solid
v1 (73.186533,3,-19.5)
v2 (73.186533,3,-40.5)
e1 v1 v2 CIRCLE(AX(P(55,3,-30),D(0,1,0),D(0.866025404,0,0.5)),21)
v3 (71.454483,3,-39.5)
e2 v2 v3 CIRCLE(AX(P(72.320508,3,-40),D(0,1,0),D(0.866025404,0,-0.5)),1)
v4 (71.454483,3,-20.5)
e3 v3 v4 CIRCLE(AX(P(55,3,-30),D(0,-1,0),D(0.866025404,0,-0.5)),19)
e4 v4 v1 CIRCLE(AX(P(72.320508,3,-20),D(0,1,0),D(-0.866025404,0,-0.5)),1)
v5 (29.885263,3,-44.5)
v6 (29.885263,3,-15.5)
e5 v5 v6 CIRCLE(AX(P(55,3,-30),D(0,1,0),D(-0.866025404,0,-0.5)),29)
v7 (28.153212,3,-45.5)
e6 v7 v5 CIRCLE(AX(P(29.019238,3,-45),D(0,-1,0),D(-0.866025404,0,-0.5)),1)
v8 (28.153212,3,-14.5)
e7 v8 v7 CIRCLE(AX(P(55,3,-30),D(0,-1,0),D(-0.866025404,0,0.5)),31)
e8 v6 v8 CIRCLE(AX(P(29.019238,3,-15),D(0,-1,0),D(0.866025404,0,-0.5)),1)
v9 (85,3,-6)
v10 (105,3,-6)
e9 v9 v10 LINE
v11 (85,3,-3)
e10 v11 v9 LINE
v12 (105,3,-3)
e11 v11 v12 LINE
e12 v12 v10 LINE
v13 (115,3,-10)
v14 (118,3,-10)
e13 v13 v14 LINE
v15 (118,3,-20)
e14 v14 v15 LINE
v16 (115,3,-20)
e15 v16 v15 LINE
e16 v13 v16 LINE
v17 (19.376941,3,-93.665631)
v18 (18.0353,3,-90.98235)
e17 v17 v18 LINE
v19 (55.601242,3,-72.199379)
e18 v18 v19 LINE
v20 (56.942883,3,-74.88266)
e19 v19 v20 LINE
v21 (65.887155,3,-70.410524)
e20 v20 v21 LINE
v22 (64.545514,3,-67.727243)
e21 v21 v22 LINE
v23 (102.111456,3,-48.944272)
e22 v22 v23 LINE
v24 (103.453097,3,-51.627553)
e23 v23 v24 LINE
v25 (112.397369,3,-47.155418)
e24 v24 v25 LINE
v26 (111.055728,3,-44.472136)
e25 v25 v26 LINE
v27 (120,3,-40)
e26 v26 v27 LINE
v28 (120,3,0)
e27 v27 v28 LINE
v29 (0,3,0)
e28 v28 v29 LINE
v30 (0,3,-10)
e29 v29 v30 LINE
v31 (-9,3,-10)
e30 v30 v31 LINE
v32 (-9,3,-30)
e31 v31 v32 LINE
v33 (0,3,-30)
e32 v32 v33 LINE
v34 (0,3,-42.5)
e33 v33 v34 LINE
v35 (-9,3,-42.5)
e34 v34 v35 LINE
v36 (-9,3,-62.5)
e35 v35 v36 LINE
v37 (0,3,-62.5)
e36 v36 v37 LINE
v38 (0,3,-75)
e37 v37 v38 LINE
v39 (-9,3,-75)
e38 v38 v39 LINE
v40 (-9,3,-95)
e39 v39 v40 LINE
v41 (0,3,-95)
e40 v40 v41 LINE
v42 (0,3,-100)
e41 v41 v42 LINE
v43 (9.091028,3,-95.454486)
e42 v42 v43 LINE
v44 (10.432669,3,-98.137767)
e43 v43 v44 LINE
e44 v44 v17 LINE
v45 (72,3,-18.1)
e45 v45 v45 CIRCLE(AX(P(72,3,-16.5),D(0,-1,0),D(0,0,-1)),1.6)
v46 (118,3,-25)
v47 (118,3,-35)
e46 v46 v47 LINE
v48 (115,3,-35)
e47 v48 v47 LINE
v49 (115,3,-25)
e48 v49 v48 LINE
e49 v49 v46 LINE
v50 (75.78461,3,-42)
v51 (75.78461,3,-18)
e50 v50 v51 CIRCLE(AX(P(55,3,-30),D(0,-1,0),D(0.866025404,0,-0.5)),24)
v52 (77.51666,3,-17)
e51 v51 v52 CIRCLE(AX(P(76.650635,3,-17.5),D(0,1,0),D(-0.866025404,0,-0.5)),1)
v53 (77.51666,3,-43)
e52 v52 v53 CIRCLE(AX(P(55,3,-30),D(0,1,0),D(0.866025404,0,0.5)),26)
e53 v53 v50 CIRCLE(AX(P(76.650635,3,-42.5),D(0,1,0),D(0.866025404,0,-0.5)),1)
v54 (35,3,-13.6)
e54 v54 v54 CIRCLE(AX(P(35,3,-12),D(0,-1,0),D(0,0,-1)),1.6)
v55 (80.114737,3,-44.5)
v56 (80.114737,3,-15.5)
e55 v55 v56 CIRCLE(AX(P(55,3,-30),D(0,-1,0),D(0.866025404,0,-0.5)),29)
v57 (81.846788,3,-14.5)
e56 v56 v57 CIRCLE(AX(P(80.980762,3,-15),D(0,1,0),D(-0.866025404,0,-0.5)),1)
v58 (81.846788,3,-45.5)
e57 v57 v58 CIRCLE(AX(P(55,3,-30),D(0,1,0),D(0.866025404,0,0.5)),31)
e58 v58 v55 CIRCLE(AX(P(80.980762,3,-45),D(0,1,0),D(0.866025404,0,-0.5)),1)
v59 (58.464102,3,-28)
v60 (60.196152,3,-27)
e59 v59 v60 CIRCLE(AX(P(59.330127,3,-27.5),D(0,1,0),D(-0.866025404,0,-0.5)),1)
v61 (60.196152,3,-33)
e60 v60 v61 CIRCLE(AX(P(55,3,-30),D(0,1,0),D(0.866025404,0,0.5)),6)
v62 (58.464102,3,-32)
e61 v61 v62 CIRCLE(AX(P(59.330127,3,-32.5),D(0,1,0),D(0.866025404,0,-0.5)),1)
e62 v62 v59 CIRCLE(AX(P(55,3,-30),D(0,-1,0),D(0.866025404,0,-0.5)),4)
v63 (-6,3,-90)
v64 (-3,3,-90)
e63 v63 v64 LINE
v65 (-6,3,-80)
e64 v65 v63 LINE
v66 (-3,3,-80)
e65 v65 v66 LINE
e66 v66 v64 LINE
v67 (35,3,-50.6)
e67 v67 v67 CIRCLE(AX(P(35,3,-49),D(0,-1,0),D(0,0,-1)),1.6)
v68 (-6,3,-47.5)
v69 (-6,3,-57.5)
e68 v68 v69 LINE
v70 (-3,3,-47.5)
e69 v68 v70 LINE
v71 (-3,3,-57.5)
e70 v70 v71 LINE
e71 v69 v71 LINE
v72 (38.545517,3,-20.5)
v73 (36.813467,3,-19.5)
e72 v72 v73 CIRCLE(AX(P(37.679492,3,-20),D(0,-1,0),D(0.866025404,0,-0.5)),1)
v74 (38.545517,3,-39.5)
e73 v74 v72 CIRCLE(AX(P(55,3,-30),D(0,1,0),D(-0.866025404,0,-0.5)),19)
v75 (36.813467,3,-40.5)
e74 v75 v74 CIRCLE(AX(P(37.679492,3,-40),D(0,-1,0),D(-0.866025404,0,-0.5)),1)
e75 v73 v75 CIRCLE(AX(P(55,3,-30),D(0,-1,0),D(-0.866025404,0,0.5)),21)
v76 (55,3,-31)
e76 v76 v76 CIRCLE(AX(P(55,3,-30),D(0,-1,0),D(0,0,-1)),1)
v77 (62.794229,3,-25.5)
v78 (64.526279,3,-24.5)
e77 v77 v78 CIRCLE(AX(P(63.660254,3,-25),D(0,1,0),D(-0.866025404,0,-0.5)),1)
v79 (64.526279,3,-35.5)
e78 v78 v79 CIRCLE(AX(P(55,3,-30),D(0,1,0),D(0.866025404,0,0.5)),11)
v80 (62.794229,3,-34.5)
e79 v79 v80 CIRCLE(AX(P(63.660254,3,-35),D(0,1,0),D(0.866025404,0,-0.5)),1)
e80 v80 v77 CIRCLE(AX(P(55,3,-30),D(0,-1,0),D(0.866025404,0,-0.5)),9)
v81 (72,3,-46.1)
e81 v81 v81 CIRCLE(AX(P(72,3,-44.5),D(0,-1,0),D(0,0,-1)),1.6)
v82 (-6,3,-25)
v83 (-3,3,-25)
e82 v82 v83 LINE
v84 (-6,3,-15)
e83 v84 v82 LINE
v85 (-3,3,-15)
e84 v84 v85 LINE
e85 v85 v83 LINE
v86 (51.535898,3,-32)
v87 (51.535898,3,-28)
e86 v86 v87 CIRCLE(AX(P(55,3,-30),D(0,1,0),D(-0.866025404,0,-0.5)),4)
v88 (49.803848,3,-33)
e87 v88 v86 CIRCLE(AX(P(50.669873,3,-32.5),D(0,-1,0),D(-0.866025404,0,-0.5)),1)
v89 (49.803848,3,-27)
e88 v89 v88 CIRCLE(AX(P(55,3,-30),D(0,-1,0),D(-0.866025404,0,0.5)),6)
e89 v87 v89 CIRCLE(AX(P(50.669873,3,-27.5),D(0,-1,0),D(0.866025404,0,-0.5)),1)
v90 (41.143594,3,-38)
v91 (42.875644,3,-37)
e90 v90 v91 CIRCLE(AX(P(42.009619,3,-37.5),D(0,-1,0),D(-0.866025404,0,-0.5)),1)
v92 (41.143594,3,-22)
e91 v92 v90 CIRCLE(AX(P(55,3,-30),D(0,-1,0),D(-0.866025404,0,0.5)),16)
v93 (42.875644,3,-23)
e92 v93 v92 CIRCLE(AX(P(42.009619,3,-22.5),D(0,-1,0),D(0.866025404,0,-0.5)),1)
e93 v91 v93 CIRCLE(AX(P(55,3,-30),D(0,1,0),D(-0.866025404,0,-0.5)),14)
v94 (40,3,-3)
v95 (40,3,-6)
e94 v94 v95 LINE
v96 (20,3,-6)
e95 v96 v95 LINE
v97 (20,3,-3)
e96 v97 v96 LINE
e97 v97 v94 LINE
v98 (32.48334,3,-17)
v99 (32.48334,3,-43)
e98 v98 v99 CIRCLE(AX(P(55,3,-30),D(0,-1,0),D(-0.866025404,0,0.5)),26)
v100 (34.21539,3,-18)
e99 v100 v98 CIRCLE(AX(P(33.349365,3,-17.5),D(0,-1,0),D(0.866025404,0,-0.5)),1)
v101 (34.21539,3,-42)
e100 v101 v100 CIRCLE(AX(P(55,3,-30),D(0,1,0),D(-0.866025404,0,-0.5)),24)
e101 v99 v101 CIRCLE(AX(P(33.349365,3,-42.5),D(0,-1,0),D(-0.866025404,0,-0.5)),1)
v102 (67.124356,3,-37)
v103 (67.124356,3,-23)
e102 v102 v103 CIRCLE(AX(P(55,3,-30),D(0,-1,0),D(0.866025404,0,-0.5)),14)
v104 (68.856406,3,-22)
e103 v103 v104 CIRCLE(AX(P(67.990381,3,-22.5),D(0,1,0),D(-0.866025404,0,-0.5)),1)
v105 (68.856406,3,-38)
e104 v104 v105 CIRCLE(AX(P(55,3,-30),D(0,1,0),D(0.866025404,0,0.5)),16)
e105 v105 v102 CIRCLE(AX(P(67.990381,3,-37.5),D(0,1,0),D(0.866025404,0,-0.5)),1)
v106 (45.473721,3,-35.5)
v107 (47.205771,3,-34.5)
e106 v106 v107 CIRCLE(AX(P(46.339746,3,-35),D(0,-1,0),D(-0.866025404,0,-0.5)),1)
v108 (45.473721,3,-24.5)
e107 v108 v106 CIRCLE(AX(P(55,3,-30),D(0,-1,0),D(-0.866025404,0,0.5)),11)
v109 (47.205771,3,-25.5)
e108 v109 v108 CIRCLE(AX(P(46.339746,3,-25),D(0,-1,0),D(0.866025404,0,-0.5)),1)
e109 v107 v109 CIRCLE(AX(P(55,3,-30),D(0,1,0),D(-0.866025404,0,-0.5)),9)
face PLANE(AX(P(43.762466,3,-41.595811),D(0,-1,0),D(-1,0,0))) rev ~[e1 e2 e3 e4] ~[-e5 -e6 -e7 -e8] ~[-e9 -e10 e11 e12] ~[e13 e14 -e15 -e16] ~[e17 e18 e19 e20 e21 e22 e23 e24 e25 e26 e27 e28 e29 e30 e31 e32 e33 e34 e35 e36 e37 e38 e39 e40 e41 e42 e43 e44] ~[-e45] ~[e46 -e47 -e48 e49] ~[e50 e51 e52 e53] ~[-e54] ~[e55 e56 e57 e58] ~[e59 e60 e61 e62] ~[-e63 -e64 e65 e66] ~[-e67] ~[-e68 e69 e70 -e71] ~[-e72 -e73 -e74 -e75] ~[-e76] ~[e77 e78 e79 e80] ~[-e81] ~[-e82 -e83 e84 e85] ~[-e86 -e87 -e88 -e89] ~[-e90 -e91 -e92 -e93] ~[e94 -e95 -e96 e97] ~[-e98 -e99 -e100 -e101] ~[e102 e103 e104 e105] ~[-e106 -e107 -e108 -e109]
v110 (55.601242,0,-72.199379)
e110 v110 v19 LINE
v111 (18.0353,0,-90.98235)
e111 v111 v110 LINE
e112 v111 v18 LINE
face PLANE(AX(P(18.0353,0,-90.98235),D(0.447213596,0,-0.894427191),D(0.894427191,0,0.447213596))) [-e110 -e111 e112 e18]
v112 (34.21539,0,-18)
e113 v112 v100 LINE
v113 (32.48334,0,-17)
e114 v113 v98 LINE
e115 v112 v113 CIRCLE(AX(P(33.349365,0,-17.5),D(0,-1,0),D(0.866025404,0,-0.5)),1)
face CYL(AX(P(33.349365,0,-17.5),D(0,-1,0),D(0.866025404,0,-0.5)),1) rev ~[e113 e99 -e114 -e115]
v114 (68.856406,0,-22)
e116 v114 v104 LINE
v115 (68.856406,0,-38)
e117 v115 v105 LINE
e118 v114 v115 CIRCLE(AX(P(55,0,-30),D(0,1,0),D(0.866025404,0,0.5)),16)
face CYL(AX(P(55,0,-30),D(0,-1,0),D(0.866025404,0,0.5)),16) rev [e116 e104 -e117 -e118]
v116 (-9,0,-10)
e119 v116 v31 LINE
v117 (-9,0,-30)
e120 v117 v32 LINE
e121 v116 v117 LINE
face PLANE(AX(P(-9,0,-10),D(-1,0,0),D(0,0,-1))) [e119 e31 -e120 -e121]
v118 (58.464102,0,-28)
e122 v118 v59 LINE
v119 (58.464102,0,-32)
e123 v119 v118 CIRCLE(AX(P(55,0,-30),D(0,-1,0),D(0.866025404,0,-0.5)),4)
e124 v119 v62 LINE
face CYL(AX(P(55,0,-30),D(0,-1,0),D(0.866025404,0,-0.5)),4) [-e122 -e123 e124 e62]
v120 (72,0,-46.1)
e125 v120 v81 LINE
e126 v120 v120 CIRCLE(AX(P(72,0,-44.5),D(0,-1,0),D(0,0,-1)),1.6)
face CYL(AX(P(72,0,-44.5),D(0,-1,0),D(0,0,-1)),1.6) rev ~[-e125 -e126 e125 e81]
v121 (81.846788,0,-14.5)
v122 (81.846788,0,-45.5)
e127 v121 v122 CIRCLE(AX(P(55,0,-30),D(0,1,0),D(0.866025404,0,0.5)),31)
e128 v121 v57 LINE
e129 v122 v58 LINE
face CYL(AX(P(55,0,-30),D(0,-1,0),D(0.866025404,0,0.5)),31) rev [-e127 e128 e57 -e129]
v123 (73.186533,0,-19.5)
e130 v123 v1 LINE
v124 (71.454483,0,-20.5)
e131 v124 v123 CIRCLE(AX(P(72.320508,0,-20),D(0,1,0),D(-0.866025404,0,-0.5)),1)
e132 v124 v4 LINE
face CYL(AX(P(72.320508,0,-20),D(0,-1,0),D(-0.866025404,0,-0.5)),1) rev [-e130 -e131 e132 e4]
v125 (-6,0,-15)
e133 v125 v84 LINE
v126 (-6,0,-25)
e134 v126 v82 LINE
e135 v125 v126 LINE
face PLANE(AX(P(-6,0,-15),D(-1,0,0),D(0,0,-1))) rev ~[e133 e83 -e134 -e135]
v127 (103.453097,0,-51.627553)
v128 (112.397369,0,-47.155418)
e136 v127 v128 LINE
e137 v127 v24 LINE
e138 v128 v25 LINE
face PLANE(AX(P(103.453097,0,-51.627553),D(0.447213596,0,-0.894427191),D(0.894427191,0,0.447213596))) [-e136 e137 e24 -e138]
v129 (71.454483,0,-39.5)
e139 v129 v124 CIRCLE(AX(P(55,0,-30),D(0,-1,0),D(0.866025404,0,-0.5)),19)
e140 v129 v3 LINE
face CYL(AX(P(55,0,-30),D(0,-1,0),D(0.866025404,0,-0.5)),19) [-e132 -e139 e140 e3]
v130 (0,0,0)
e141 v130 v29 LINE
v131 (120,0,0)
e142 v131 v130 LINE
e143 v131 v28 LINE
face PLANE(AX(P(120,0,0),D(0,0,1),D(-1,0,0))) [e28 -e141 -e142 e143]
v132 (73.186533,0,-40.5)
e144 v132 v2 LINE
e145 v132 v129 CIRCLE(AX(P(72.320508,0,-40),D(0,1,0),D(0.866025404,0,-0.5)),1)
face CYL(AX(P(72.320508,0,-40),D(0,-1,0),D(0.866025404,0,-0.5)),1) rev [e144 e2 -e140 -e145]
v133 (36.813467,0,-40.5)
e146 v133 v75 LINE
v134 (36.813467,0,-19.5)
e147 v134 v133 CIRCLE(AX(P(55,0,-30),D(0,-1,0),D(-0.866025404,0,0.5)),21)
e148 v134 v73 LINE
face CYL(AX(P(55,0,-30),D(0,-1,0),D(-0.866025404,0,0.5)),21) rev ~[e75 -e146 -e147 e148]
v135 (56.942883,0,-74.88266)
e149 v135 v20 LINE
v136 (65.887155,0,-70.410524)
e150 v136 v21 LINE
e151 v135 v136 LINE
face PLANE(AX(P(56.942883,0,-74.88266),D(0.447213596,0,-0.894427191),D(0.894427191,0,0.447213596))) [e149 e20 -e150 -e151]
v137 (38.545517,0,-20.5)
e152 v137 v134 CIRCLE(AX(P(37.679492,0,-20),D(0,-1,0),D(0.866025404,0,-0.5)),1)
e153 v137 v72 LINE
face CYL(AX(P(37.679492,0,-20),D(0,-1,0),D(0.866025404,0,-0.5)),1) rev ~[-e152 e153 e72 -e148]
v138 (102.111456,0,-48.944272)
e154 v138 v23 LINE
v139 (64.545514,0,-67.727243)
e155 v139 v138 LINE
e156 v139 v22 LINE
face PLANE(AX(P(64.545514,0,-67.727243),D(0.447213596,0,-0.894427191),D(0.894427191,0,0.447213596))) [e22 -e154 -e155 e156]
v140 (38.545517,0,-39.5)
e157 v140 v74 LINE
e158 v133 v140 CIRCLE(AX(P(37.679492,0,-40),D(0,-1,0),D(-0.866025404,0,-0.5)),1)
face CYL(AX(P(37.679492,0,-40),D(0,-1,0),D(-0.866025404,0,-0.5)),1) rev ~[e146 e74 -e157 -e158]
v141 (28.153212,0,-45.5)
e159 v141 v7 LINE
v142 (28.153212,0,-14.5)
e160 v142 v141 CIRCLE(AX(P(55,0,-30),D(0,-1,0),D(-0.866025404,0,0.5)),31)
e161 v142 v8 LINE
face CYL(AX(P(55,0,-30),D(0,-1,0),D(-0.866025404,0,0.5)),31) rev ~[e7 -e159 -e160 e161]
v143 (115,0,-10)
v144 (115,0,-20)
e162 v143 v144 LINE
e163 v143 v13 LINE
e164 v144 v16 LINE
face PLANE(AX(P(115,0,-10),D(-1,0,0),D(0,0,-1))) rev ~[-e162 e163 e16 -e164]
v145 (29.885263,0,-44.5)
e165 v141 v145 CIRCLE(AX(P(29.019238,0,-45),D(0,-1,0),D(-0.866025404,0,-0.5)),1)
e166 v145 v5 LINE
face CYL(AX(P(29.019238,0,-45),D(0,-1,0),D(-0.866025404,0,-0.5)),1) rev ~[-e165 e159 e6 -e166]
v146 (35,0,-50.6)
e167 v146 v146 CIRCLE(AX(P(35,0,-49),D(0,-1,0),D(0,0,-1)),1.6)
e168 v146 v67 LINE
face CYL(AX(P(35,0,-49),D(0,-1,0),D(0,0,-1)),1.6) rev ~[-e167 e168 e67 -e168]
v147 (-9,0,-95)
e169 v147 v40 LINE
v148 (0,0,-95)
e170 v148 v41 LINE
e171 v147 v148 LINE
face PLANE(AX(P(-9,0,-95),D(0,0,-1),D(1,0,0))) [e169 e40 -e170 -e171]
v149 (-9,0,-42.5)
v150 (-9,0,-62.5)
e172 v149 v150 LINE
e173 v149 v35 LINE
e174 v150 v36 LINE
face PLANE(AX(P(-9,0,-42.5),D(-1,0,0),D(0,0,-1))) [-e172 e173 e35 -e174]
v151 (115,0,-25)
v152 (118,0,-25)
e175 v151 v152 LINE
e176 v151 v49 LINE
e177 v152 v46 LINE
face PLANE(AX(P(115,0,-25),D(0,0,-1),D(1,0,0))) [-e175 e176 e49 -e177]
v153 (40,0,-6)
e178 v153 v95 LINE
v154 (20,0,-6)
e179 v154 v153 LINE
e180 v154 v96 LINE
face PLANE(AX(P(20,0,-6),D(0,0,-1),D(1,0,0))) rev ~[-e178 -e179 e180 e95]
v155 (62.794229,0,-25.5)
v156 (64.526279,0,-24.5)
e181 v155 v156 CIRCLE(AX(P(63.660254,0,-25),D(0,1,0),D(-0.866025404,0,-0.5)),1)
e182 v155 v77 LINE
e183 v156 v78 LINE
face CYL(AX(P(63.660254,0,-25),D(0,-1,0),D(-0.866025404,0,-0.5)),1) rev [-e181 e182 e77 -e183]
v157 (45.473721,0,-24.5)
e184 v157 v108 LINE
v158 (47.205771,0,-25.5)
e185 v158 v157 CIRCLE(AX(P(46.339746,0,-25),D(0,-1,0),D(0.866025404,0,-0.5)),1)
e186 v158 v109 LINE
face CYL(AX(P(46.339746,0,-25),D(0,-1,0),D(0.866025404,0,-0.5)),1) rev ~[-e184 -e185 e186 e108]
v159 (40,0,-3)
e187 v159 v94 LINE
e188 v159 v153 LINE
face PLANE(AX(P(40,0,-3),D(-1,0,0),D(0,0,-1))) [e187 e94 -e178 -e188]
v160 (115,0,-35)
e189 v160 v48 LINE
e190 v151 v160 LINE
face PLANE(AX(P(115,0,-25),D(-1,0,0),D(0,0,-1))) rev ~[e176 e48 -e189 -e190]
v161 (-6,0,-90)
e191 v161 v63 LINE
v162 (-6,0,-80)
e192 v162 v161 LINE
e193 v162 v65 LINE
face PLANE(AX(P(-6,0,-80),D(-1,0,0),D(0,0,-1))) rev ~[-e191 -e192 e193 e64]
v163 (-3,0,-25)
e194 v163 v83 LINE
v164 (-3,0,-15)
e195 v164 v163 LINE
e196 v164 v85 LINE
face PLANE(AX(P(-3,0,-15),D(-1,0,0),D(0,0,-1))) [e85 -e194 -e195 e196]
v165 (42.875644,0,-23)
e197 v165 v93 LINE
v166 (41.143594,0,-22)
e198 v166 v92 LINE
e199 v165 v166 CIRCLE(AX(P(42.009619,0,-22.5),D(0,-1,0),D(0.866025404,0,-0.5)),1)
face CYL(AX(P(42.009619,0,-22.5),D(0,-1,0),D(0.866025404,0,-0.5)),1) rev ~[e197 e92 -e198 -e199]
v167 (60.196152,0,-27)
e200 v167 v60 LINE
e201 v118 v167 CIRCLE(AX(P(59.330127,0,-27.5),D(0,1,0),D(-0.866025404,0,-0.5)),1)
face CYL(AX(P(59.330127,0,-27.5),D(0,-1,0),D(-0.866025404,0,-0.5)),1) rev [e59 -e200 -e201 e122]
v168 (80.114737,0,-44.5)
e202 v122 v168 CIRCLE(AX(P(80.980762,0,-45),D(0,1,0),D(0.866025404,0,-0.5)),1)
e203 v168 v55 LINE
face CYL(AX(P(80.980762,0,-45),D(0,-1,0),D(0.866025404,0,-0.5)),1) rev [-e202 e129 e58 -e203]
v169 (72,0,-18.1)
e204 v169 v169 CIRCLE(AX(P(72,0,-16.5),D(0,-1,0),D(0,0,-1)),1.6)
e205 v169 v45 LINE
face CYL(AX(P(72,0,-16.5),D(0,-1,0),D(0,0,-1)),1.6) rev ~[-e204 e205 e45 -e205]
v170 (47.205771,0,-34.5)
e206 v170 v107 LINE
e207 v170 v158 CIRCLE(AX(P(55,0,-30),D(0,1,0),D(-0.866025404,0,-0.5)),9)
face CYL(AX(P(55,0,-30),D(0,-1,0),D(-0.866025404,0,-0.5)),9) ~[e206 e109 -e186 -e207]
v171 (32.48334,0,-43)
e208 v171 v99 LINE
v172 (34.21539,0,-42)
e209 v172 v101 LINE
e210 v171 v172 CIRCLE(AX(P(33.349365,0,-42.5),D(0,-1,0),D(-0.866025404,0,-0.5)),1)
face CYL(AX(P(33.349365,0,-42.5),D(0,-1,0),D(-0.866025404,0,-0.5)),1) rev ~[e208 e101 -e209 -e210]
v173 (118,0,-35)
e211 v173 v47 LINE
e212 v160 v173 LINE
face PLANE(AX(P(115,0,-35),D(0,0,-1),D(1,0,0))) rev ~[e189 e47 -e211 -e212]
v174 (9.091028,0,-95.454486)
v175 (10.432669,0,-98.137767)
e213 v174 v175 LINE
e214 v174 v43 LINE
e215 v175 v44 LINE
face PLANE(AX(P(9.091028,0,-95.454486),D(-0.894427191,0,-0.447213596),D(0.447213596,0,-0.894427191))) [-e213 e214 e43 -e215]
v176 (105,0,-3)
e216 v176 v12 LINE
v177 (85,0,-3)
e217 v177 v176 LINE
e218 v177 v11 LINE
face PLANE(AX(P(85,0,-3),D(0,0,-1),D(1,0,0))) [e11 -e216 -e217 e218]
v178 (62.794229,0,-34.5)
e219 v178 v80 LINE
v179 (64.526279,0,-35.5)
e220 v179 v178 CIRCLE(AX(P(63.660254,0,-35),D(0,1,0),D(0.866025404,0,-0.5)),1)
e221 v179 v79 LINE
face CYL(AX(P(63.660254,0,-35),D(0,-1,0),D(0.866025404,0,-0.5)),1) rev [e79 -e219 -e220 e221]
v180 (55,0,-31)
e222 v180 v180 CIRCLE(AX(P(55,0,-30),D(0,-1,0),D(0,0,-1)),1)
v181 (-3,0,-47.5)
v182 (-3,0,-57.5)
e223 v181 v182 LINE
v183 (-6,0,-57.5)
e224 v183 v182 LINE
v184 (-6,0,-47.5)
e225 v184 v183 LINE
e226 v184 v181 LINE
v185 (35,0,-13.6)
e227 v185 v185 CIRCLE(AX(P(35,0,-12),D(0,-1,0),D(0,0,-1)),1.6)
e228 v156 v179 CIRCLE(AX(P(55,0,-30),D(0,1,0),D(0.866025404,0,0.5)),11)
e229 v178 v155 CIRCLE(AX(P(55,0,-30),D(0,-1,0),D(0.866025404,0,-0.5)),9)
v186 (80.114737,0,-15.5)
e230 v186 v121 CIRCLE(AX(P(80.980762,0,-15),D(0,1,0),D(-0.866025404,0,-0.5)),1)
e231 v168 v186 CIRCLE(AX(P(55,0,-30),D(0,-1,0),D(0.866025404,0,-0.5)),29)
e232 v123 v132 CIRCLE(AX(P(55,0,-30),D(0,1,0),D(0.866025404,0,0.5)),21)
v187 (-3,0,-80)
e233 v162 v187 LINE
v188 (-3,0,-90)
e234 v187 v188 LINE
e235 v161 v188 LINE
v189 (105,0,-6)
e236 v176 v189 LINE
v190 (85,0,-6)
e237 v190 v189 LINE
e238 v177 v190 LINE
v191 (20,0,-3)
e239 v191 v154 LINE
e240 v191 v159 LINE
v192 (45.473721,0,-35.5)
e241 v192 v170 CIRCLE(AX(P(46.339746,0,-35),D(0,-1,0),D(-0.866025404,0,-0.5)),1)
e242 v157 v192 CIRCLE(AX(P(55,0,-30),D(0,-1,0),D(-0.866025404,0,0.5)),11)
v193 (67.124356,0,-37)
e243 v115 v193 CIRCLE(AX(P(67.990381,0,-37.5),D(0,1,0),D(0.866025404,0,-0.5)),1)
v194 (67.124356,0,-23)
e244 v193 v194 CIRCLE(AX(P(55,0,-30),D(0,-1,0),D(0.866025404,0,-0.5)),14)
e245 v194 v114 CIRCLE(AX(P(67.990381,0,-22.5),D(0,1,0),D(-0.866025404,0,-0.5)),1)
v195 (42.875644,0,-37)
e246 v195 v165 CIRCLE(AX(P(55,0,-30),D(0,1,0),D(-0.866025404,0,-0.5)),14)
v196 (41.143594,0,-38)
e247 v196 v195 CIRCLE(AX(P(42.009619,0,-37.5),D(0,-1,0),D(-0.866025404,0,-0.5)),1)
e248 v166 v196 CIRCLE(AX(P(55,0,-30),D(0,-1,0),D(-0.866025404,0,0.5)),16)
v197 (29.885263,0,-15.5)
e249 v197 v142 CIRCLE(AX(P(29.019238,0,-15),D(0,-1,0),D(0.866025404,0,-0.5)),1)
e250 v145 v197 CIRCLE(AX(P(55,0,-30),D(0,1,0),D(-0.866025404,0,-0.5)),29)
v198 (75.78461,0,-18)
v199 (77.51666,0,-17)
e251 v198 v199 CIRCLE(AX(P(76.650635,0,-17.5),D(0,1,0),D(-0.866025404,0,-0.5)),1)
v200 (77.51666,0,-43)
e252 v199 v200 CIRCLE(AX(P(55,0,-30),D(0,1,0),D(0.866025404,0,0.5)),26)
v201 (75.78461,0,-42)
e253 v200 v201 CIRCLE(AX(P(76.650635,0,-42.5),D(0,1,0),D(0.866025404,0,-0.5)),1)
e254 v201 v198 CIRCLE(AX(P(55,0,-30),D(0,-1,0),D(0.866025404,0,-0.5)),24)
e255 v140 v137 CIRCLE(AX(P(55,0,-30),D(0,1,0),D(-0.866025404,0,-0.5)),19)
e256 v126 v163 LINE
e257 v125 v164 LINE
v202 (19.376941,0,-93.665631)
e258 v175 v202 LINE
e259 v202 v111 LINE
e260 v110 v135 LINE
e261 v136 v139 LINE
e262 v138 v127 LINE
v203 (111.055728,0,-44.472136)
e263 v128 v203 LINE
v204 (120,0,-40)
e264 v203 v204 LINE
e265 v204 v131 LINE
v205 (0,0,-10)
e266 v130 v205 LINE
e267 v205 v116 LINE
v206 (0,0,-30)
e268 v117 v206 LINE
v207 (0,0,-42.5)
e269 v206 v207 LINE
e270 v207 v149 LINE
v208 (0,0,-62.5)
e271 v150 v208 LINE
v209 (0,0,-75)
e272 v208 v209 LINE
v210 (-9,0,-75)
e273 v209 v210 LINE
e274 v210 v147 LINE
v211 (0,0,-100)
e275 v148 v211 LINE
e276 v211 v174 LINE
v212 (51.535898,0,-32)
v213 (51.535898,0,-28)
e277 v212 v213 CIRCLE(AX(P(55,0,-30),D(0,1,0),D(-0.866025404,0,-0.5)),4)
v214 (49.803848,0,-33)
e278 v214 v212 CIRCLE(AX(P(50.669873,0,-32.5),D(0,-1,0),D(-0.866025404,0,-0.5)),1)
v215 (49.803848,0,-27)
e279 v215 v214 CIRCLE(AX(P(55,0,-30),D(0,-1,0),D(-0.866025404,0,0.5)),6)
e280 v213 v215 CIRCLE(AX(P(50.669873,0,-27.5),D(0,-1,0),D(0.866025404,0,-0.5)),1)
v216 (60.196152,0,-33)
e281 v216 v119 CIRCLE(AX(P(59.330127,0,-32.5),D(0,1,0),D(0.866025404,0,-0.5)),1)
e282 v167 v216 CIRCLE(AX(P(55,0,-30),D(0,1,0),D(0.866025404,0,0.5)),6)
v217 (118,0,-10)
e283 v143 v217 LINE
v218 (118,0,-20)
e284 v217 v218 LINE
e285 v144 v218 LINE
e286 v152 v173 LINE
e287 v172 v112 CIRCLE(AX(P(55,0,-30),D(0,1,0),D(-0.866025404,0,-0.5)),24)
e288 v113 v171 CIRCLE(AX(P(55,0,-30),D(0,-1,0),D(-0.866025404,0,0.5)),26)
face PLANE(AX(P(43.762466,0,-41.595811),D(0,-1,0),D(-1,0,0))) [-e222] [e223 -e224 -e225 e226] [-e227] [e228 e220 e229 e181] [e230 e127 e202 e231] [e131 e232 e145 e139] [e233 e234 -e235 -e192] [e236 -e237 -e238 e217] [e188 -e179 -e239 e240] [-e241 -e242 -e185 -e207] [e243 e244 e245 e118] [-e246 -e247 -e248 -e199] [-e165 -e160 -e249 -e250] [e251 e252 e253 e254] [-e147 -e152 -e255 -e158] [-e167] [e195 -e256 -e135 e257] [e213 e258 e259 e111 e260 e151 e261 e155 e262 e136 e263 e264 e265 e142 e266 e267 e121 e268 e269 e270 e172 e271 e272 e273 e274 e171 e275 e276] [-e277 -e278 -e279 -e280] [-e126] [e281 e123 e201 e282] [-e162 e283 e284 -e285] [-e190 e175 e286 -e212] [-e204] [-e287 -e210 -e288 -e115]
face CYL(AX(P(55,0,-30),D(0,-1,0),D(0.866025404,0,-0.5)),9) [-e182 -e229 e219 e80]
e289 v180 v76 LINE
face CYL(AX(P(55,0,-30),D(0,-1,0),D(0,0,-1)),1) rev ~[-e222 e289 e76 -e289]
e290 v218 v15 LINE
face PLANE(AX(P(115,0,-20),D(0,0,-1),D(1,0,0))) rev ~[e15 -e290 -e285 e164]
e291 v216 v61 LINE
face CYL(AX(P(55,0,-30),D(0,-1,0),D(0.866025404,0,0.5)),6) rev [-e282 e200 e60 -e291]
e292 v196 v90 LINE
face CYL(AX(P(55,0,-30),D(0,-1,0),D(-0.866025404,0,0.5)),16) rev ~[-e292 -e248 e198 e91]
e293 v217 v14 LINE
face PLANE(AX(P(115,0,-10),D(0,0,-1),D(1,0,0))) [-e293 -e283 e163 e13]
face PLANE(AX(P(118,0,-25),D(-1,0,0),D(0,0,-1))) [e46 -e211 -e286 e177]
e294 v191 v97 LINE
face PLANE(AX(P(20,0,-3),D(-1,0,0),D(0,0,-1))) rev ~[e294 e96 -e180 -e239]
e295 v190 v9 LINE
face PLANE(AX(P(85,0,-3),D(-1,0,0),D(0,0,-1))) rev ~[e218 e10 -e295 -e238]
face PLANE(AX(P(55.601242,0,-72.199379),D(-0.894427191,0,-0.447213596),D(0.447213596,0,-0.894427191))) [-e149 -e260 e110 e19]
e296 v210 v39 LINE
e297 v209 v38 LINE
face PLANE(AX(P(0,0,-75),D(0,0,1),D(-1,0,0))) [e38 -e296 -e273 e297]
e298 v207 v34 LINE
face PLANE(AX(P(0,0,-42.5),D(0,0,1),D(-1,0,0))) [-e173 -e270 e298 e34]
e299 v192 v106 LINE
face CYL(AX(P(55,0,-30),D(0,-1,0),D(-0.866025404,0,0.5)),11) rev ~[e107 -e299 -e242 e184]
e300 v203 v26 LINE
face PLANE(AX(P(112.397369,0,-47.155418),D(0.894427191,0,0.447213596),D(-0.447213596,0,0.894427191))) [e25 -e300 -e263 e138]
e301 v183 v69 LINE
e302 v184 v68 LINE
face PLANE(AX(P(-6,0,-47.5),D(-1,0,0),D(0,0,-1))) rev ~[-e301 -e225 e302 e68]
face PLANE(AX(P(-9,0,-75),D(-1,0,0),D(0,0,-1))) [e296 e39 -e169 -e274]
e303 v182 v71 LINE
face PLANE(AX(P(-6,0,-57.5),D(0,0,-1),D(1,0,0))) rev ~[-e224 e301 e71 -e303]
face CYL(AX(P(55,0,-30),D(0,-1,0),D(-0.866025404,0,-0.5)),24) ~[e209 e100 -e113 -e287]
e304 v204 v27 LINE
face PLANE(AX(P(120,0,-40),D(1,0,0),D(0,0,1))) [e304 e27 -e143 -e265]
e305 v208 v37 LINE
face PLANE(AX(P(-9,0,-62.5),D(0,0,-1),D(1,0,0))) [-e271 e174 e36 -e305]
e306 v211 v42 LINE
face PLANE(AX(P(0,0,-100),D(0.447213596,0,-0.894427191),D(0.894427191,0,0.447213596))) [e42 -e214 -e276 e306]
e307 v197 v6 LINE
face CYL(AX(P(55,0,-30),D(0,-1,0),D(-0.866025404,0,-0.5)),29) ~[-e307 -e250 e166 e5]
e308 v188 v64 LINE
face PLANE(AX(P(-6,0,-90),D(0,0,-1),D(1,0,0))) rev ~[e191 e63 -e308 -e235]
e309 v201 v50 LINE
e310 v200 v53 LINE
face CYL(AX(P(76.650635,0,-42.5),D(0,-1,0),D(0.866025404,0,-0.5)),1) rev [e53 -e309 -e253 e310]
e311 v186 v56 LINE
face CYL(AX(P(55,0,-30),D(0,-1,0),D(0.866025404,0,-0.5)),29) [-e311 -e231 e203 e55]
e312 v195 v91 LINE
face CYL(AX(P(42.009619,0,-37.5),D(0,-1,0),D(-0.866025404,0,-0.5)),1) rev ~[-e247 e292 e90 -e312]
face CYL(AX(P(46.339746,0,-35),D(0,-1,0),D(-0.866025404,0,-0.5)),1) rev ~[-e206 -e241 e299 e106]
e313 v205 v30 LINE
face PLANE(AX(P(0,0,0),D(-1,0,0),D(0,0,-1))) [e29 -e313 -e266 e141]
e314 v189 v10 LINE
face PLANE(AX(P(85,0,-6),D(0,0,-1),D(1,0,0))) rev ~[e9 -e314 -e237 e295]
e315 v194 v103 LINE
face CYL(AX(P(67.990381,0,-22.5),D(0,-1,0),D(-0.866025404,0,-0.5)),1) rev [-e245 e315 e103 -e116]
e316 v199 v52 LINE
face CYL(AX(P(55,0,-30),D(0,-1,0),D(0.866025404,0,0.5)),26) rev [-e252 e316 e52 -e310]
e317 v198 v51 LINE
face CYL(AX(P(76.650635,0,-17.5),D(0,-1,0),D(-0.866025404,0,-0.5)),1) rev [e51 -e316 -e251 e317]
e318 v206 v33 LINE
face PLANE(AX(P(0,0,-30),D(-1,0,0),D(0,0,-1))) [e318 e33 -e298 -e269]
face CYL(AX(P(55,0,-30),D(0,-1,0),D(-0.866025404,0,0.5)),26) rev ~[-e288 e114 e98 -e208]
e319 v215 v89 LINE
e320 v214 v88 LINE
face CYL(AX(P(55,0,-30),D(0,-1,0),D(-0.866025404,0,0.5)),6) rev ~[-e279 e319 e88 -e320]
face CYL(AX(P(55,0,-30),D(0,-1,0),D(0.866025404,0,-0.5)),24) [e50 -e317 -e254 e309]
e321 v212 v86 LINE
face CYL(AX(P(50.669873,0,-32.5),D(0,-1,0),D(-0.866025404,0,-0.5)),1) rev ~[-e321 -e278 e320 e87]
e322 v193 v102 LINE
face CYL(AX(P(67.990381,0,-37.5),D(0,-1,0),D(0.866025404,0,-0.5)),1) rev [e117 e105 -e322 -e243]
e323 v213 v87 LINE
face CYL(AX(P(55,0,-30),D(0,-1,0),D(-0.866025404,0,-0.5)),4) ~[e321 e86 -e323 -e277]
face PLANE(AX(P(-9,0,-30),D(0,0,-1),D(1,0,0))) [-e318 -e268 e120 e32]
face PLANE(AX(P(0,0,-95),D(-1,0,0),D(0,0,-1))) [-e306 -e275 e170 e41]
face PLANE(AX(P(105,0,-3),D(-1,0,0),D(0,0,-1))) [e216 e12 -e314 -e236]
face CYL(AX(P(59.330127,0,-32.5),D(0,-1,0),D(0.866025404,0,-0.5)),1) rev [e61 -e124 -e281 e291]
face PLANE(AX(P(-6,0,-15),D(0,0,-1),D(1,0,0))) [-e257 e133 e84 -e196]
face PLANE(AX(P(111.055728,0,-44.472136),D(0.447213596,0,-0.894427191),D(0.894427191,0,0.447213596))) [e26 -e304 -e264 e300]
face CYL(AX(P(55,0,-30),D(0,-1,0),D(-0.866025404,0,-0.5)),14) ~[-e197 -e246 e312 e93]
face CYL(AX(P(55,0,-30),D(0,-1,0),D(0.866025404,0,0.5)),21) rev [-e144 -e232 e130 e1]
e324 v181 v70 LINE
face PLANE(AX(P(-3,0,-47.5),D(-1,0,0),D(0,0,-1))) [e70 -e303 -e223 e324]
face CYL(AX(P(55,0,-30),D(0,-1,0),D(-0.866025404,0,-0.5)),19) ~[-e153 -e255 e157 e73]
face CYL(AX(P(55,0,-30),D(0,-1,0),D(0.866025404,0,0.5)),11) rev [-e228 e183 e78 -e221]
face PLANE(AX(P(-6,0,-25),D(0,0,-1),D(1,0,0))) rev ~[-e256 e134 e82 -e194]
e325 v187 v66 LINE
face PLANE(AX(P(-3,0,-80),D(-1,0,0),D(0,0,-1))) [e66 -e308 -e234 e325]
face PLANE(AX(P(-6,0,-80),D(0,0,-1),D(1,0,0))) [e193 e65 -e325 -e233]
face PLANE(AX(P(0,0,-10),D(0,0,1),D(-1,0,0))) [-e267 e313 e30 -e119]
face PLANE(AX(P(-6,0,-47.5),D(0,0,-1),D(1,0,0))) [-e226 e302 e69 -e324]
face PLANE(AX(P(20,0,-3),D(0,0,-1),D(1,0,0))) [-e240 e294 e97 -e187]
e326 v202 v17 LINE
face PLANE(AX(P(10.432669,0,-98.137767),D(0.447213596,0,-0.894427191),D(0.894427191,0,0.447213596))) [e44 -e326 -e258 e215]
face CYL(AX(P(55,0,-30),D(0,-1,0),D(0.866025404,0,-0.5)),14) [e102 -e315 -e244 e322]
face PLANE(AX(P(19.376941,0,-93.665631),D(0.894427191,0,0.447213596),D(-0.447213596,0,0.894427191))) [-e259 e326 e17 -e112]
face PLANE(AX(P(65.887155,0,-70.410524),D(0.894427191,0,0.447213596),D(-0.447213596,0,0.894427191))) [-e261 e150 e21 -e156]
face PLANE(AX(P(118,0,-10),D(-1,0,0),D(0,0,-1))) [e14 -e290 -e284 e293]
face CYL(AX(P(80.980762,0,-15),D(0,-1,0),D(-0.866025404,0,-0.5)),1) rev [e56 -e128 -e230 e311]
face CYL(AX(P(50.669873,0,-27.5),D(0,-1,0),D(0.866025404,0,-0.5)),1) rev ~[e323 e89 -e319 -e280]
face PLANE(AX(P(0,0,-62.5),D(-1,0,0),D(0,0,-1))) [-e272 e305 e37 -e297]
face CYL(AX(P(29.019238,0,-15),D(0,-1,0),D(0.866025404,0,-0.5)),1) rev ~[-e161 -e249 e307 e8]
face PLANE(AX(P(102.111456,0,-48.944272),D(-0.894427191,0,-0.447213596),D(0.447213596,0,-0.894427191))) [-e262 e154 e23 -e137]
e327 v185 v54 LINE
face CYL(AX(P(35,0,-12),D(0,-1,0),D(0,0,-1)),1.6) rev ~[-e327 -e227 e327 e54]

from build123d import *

# Parameters (mm, degrees)
SKETCH1_W           = 3
SKETCH1_H           = 10
SKETCH1_W_2         = 20
SKETCH1_H_2         = 3
BOSS_EXTRUDE1_DEPTH = 3
SKETCH2_R           = 1
SKETCH2_R_2         = 1.6
CUT_EXTRUDE1_DEPTH  = 3


with BuildPart() as part:
    # Sketch1 → Boss-Extrude1 (new body)
    with BuildSketch(Plane(origin=(0, 0, 0), x_dir=(1, 0, 0), z_dir=(0, 1, 0))):
        Polygon((0, 0), (0, 10), (-9, 10), (-9, 30), (0, 30), (0, 42.5), (-9, 42.5), (-9, 62.5), (0, 62.5), (0, 75), (-9, 75), (-9, 95), (0, 95), (0, 100), (9.091028316, 95.454485842), (10.432669103, 98.137767415), (19.376941013, 93.66563146), (18.035300226, 90.982349887), (55.601242248, 72.199378876), (56.942883035, 74.882660449), (65.887154945, 70.410524494), (64.545514158, 67.727242921), (102.11145618, 48.94427191), (103.453096967, 51.627553483), (112.397368877, 47.155417528), (111.05572809, 44.472135955), (120, 40), (120, 0), align=None)
        with Locations((116.5, 30)):
            Rectangle(SKETCH1_W, SKETCH1_H, mode=Mode.SUBTRACT)
        with Locations((116.5, 15)):
            Rectangle(SKETCH1_W, SKETCH1_H, mode=Mode.SUBTRACT)
        with Locations((30, 4.5)):
            Rectangle(SKETCH1_W_2, SKETCH1_H_2, mode=Mode.SUBTRACT)
        with Locations((95, 4.5)):
            Rectangle(SKETCH1_W_2, SKETCH1_H_2, mode=Mode.SUBTRACT)
        with Locations((-4.5, 85)):
            Rectangle(SKETCH1_W, SKETCH1_H, mode=Mode.SUBTRACT)
        with Locations((-4.5, 52.5)):
            Rectangle(SKETCH1_W, SKETCH1_H, mode=Mode.SUBTRACT)
        with Locations((-4.5, 20)):
            Rectangle(SKETCH1_W, SKETCH1_H, mode=Mode.SUBTRACT)
    extrude(amount=BOSS_EXTRUDE1_DEPTH)

    # Sketch2 → Cut-Extrude1 (cut)
    with BuildSketch(Plane.XZ):
        with Locations(Location((55, -30, 0), (0, 0, 270))):
            Circle(SKETCH2_R)
        with Locations(Location((35, -49, 0), (0, 0, 270))):
            Circle(SKETCH2_R_2)
        with Locations(Location((72, -44.5, 0), (0, 0, 270))):
            Circle(SKETCH2_R_2)
        with Locations(Location((72, -16.5, 0), (0, 0, 270))):
            Circle(SKETCH2_R_2)
        with Locations(Location((35, -12, 0), (0, 0, 270))):
            Circle(SKETCH2_R_2)
        with BuildLine():
            ThreePointArc((49.803847577, -27), (49, -30), (49.803847577, -33))
            ThreePointArc((49.803847577, -33), (51.169872981, -33.366025404), (51.535898385, -32))
            ThreePointArc((51.535898385, -32), (51, -30), (51.535898385, -28))
            ThreePointArc((51.535898385, -28), (51.169872981, -26.633974596), (49.803847577, -27))
        make_face()
        with BuildLine():
            ThreePointArc((45.473720558, -24.5), (44, -30), (45.473720558, -35.5))
            ThreePointArc((45.473720558, -35.5), (46.839745962, -35.866025404), (47.205771366, -34.5))
            ThreePointArc((47.205771366, -34.5), (46, -30), (47.205771366, -25.5))
            ThreePointArc((47.205771366, -25.5), (46.839745962, -24.133974596), (45.473720558, -24.5))
        make_face()
        with BuildLine():
            ThreePointArc((41.143593539, -22), (39, -30), (41.143593539, -38))
            ThreePointArc((41.143593539, -38), (42.509618943, -38.366025404), (42.875644347, -37))
            ThreePointArc((42.875644347, -37), (41, -30), (42.875644347, -23))
            ThreePointArc((42.875644347, -23), (42.509618943, -21.633974596), (41.143593539, -22))
        make_face()
        with BuildLine():
            ThreePointArc((36.813466521, -19.5), (34, -30), (36.813466521, -40.5))
            ThreePointArc((36.813466521, -40.5), (38.179491924, -40.866025404), (38.545517328, -39.5))
            ThreePointArc((38.545517328, -39.5), (36, -30), (38.545517328, -20.5))
            ThreePointArc((38.545517328, -20.5), (38.179491924, -19.133974596), (36.813466521, -19.5))
        make_face()
        with BuildLine():
            ThreePointArc((32.483339502, -17), (29, -30), (32.483339502, -43))
            ThreePointArc((32.483339502, -43), (33.849364905, -43.366025404), (34.215390309, -42))
            ThreePointArc((34.215390309, -42), (31, -30), (34.215390309, -18))
            ThreePointArc((34.215390309, -18), (33.849364905, -16.633974596), (32.483339502, -17))
        make_face()
        with BuildLine():
            ThreePointArc((28.153212483, -14.5), (24, -30), (28.153212483, -45.5))
            ThreePointArc((28.153212483, -45.5), (29.519237886, -45.866025404), (29.88526329, -44.5))
            ThreePointArc((29.88526329, -44.5), (26, -30), (29.88526329, -15.5))
            ThreePointArc((29.88526329, -15.5), (29.519237886, -14.133974596), (28.153212483, -14.5))
        make_face()
        with BuildLine():
            ThreePointArc((81.846787517, -14.5), (86, -30), (81.846787517, -45.5))
            ThreePointArc((81.846787517, -45.5), (80.480762114, -45.866025404), (80.11473671, -44.5))
            ThreePointArc((80.11473671, -44.5), (84, -30), (80.11473671, -15.5))
            ThreePointArc((80.11473671, -15.5), (80.480762114, -14.133974596), (81.846787517, -14.5))
        make_face()
        with BuildLine():
            ThreePointArc((77.516660498, -17), (81, -30), (77.516660498, -43))
            ThreePointArc((77.516660498, -43), (76.150635095, -43.366025404), (75.784609691, -42))
            ThreePointArc((75.784609691, -42), (79, -30), (75.784609691, -18))
            ThreePointArc((75.784609691, -18), (76.150635095, -16.633974596), (77.516660498, -17))
        make_face()
        with BuildLine():
            ThreePointArc((73.186533479, -19.5), (76, -30), (73.186533479, -40.5))
            ThreePointArc((73.186533479, -40.5), (71.820508076, -40.866025404), (71.454482672, -39.5))
            ThreePointArc((71.454482672, -39.5), (74, -30), (71.454482672, -20.5))
            ThreePointArc((71.454482672, -20.5), (71.820508076, -19.133974596), (73.186533479, -19.5))
        make_face()
        with BuildLine():
            ThreePointArc((68.856406461, -22), (71, -30), (68.856406461, -38))
            ThreePointArc((68.856406461, -38), (67.490381057, -38.366025404), (67.124355653, -37))
            ThreePointArc((67.124355653, -37), (69, -30), (67.124355653, -23))
            ThreePointArc((67.124355653, -23), (67.490381057, -21.633974596), (68.856406461, -22))
        make_face()
        with BuildLine():
            ThreePointArc((64.526279442, -24.5), (66, -30), (64.526279442, -35.5))
            ThreePointArc((64.526279442, -35.5), (63.160254038, -35.866025404), (62.794228634, -34.5))
            ThreePointArc((62.794228634, -34.5), (64, -30), (62.794228634, -25.5))
            ThreePointArc((62.794228634, -25.5), (63.160254038, -24.133974596), (64.526279442, -24.5))
        make_face()
        with BuildLine():
            ThreePointArc((60.196152423, -27), (61, -30), (60.196152423, -33))
            ThreePointArc((60.196152423, -33), (58.830127019, -33.366025404), (58.464101615, -32))
            ThreePointArc((58.464101615, -32), (59, -30), (58.464101615, -28))
            ThreePointArc((58.464101615, -28), (58.830127019, -26.633974596), (60.196152423, -27))
        make_face()
    extrude(amount=-CUT_EXTRUDE1_DEPTH, mode=Mode.SUBTRACT)


solid = part.part
